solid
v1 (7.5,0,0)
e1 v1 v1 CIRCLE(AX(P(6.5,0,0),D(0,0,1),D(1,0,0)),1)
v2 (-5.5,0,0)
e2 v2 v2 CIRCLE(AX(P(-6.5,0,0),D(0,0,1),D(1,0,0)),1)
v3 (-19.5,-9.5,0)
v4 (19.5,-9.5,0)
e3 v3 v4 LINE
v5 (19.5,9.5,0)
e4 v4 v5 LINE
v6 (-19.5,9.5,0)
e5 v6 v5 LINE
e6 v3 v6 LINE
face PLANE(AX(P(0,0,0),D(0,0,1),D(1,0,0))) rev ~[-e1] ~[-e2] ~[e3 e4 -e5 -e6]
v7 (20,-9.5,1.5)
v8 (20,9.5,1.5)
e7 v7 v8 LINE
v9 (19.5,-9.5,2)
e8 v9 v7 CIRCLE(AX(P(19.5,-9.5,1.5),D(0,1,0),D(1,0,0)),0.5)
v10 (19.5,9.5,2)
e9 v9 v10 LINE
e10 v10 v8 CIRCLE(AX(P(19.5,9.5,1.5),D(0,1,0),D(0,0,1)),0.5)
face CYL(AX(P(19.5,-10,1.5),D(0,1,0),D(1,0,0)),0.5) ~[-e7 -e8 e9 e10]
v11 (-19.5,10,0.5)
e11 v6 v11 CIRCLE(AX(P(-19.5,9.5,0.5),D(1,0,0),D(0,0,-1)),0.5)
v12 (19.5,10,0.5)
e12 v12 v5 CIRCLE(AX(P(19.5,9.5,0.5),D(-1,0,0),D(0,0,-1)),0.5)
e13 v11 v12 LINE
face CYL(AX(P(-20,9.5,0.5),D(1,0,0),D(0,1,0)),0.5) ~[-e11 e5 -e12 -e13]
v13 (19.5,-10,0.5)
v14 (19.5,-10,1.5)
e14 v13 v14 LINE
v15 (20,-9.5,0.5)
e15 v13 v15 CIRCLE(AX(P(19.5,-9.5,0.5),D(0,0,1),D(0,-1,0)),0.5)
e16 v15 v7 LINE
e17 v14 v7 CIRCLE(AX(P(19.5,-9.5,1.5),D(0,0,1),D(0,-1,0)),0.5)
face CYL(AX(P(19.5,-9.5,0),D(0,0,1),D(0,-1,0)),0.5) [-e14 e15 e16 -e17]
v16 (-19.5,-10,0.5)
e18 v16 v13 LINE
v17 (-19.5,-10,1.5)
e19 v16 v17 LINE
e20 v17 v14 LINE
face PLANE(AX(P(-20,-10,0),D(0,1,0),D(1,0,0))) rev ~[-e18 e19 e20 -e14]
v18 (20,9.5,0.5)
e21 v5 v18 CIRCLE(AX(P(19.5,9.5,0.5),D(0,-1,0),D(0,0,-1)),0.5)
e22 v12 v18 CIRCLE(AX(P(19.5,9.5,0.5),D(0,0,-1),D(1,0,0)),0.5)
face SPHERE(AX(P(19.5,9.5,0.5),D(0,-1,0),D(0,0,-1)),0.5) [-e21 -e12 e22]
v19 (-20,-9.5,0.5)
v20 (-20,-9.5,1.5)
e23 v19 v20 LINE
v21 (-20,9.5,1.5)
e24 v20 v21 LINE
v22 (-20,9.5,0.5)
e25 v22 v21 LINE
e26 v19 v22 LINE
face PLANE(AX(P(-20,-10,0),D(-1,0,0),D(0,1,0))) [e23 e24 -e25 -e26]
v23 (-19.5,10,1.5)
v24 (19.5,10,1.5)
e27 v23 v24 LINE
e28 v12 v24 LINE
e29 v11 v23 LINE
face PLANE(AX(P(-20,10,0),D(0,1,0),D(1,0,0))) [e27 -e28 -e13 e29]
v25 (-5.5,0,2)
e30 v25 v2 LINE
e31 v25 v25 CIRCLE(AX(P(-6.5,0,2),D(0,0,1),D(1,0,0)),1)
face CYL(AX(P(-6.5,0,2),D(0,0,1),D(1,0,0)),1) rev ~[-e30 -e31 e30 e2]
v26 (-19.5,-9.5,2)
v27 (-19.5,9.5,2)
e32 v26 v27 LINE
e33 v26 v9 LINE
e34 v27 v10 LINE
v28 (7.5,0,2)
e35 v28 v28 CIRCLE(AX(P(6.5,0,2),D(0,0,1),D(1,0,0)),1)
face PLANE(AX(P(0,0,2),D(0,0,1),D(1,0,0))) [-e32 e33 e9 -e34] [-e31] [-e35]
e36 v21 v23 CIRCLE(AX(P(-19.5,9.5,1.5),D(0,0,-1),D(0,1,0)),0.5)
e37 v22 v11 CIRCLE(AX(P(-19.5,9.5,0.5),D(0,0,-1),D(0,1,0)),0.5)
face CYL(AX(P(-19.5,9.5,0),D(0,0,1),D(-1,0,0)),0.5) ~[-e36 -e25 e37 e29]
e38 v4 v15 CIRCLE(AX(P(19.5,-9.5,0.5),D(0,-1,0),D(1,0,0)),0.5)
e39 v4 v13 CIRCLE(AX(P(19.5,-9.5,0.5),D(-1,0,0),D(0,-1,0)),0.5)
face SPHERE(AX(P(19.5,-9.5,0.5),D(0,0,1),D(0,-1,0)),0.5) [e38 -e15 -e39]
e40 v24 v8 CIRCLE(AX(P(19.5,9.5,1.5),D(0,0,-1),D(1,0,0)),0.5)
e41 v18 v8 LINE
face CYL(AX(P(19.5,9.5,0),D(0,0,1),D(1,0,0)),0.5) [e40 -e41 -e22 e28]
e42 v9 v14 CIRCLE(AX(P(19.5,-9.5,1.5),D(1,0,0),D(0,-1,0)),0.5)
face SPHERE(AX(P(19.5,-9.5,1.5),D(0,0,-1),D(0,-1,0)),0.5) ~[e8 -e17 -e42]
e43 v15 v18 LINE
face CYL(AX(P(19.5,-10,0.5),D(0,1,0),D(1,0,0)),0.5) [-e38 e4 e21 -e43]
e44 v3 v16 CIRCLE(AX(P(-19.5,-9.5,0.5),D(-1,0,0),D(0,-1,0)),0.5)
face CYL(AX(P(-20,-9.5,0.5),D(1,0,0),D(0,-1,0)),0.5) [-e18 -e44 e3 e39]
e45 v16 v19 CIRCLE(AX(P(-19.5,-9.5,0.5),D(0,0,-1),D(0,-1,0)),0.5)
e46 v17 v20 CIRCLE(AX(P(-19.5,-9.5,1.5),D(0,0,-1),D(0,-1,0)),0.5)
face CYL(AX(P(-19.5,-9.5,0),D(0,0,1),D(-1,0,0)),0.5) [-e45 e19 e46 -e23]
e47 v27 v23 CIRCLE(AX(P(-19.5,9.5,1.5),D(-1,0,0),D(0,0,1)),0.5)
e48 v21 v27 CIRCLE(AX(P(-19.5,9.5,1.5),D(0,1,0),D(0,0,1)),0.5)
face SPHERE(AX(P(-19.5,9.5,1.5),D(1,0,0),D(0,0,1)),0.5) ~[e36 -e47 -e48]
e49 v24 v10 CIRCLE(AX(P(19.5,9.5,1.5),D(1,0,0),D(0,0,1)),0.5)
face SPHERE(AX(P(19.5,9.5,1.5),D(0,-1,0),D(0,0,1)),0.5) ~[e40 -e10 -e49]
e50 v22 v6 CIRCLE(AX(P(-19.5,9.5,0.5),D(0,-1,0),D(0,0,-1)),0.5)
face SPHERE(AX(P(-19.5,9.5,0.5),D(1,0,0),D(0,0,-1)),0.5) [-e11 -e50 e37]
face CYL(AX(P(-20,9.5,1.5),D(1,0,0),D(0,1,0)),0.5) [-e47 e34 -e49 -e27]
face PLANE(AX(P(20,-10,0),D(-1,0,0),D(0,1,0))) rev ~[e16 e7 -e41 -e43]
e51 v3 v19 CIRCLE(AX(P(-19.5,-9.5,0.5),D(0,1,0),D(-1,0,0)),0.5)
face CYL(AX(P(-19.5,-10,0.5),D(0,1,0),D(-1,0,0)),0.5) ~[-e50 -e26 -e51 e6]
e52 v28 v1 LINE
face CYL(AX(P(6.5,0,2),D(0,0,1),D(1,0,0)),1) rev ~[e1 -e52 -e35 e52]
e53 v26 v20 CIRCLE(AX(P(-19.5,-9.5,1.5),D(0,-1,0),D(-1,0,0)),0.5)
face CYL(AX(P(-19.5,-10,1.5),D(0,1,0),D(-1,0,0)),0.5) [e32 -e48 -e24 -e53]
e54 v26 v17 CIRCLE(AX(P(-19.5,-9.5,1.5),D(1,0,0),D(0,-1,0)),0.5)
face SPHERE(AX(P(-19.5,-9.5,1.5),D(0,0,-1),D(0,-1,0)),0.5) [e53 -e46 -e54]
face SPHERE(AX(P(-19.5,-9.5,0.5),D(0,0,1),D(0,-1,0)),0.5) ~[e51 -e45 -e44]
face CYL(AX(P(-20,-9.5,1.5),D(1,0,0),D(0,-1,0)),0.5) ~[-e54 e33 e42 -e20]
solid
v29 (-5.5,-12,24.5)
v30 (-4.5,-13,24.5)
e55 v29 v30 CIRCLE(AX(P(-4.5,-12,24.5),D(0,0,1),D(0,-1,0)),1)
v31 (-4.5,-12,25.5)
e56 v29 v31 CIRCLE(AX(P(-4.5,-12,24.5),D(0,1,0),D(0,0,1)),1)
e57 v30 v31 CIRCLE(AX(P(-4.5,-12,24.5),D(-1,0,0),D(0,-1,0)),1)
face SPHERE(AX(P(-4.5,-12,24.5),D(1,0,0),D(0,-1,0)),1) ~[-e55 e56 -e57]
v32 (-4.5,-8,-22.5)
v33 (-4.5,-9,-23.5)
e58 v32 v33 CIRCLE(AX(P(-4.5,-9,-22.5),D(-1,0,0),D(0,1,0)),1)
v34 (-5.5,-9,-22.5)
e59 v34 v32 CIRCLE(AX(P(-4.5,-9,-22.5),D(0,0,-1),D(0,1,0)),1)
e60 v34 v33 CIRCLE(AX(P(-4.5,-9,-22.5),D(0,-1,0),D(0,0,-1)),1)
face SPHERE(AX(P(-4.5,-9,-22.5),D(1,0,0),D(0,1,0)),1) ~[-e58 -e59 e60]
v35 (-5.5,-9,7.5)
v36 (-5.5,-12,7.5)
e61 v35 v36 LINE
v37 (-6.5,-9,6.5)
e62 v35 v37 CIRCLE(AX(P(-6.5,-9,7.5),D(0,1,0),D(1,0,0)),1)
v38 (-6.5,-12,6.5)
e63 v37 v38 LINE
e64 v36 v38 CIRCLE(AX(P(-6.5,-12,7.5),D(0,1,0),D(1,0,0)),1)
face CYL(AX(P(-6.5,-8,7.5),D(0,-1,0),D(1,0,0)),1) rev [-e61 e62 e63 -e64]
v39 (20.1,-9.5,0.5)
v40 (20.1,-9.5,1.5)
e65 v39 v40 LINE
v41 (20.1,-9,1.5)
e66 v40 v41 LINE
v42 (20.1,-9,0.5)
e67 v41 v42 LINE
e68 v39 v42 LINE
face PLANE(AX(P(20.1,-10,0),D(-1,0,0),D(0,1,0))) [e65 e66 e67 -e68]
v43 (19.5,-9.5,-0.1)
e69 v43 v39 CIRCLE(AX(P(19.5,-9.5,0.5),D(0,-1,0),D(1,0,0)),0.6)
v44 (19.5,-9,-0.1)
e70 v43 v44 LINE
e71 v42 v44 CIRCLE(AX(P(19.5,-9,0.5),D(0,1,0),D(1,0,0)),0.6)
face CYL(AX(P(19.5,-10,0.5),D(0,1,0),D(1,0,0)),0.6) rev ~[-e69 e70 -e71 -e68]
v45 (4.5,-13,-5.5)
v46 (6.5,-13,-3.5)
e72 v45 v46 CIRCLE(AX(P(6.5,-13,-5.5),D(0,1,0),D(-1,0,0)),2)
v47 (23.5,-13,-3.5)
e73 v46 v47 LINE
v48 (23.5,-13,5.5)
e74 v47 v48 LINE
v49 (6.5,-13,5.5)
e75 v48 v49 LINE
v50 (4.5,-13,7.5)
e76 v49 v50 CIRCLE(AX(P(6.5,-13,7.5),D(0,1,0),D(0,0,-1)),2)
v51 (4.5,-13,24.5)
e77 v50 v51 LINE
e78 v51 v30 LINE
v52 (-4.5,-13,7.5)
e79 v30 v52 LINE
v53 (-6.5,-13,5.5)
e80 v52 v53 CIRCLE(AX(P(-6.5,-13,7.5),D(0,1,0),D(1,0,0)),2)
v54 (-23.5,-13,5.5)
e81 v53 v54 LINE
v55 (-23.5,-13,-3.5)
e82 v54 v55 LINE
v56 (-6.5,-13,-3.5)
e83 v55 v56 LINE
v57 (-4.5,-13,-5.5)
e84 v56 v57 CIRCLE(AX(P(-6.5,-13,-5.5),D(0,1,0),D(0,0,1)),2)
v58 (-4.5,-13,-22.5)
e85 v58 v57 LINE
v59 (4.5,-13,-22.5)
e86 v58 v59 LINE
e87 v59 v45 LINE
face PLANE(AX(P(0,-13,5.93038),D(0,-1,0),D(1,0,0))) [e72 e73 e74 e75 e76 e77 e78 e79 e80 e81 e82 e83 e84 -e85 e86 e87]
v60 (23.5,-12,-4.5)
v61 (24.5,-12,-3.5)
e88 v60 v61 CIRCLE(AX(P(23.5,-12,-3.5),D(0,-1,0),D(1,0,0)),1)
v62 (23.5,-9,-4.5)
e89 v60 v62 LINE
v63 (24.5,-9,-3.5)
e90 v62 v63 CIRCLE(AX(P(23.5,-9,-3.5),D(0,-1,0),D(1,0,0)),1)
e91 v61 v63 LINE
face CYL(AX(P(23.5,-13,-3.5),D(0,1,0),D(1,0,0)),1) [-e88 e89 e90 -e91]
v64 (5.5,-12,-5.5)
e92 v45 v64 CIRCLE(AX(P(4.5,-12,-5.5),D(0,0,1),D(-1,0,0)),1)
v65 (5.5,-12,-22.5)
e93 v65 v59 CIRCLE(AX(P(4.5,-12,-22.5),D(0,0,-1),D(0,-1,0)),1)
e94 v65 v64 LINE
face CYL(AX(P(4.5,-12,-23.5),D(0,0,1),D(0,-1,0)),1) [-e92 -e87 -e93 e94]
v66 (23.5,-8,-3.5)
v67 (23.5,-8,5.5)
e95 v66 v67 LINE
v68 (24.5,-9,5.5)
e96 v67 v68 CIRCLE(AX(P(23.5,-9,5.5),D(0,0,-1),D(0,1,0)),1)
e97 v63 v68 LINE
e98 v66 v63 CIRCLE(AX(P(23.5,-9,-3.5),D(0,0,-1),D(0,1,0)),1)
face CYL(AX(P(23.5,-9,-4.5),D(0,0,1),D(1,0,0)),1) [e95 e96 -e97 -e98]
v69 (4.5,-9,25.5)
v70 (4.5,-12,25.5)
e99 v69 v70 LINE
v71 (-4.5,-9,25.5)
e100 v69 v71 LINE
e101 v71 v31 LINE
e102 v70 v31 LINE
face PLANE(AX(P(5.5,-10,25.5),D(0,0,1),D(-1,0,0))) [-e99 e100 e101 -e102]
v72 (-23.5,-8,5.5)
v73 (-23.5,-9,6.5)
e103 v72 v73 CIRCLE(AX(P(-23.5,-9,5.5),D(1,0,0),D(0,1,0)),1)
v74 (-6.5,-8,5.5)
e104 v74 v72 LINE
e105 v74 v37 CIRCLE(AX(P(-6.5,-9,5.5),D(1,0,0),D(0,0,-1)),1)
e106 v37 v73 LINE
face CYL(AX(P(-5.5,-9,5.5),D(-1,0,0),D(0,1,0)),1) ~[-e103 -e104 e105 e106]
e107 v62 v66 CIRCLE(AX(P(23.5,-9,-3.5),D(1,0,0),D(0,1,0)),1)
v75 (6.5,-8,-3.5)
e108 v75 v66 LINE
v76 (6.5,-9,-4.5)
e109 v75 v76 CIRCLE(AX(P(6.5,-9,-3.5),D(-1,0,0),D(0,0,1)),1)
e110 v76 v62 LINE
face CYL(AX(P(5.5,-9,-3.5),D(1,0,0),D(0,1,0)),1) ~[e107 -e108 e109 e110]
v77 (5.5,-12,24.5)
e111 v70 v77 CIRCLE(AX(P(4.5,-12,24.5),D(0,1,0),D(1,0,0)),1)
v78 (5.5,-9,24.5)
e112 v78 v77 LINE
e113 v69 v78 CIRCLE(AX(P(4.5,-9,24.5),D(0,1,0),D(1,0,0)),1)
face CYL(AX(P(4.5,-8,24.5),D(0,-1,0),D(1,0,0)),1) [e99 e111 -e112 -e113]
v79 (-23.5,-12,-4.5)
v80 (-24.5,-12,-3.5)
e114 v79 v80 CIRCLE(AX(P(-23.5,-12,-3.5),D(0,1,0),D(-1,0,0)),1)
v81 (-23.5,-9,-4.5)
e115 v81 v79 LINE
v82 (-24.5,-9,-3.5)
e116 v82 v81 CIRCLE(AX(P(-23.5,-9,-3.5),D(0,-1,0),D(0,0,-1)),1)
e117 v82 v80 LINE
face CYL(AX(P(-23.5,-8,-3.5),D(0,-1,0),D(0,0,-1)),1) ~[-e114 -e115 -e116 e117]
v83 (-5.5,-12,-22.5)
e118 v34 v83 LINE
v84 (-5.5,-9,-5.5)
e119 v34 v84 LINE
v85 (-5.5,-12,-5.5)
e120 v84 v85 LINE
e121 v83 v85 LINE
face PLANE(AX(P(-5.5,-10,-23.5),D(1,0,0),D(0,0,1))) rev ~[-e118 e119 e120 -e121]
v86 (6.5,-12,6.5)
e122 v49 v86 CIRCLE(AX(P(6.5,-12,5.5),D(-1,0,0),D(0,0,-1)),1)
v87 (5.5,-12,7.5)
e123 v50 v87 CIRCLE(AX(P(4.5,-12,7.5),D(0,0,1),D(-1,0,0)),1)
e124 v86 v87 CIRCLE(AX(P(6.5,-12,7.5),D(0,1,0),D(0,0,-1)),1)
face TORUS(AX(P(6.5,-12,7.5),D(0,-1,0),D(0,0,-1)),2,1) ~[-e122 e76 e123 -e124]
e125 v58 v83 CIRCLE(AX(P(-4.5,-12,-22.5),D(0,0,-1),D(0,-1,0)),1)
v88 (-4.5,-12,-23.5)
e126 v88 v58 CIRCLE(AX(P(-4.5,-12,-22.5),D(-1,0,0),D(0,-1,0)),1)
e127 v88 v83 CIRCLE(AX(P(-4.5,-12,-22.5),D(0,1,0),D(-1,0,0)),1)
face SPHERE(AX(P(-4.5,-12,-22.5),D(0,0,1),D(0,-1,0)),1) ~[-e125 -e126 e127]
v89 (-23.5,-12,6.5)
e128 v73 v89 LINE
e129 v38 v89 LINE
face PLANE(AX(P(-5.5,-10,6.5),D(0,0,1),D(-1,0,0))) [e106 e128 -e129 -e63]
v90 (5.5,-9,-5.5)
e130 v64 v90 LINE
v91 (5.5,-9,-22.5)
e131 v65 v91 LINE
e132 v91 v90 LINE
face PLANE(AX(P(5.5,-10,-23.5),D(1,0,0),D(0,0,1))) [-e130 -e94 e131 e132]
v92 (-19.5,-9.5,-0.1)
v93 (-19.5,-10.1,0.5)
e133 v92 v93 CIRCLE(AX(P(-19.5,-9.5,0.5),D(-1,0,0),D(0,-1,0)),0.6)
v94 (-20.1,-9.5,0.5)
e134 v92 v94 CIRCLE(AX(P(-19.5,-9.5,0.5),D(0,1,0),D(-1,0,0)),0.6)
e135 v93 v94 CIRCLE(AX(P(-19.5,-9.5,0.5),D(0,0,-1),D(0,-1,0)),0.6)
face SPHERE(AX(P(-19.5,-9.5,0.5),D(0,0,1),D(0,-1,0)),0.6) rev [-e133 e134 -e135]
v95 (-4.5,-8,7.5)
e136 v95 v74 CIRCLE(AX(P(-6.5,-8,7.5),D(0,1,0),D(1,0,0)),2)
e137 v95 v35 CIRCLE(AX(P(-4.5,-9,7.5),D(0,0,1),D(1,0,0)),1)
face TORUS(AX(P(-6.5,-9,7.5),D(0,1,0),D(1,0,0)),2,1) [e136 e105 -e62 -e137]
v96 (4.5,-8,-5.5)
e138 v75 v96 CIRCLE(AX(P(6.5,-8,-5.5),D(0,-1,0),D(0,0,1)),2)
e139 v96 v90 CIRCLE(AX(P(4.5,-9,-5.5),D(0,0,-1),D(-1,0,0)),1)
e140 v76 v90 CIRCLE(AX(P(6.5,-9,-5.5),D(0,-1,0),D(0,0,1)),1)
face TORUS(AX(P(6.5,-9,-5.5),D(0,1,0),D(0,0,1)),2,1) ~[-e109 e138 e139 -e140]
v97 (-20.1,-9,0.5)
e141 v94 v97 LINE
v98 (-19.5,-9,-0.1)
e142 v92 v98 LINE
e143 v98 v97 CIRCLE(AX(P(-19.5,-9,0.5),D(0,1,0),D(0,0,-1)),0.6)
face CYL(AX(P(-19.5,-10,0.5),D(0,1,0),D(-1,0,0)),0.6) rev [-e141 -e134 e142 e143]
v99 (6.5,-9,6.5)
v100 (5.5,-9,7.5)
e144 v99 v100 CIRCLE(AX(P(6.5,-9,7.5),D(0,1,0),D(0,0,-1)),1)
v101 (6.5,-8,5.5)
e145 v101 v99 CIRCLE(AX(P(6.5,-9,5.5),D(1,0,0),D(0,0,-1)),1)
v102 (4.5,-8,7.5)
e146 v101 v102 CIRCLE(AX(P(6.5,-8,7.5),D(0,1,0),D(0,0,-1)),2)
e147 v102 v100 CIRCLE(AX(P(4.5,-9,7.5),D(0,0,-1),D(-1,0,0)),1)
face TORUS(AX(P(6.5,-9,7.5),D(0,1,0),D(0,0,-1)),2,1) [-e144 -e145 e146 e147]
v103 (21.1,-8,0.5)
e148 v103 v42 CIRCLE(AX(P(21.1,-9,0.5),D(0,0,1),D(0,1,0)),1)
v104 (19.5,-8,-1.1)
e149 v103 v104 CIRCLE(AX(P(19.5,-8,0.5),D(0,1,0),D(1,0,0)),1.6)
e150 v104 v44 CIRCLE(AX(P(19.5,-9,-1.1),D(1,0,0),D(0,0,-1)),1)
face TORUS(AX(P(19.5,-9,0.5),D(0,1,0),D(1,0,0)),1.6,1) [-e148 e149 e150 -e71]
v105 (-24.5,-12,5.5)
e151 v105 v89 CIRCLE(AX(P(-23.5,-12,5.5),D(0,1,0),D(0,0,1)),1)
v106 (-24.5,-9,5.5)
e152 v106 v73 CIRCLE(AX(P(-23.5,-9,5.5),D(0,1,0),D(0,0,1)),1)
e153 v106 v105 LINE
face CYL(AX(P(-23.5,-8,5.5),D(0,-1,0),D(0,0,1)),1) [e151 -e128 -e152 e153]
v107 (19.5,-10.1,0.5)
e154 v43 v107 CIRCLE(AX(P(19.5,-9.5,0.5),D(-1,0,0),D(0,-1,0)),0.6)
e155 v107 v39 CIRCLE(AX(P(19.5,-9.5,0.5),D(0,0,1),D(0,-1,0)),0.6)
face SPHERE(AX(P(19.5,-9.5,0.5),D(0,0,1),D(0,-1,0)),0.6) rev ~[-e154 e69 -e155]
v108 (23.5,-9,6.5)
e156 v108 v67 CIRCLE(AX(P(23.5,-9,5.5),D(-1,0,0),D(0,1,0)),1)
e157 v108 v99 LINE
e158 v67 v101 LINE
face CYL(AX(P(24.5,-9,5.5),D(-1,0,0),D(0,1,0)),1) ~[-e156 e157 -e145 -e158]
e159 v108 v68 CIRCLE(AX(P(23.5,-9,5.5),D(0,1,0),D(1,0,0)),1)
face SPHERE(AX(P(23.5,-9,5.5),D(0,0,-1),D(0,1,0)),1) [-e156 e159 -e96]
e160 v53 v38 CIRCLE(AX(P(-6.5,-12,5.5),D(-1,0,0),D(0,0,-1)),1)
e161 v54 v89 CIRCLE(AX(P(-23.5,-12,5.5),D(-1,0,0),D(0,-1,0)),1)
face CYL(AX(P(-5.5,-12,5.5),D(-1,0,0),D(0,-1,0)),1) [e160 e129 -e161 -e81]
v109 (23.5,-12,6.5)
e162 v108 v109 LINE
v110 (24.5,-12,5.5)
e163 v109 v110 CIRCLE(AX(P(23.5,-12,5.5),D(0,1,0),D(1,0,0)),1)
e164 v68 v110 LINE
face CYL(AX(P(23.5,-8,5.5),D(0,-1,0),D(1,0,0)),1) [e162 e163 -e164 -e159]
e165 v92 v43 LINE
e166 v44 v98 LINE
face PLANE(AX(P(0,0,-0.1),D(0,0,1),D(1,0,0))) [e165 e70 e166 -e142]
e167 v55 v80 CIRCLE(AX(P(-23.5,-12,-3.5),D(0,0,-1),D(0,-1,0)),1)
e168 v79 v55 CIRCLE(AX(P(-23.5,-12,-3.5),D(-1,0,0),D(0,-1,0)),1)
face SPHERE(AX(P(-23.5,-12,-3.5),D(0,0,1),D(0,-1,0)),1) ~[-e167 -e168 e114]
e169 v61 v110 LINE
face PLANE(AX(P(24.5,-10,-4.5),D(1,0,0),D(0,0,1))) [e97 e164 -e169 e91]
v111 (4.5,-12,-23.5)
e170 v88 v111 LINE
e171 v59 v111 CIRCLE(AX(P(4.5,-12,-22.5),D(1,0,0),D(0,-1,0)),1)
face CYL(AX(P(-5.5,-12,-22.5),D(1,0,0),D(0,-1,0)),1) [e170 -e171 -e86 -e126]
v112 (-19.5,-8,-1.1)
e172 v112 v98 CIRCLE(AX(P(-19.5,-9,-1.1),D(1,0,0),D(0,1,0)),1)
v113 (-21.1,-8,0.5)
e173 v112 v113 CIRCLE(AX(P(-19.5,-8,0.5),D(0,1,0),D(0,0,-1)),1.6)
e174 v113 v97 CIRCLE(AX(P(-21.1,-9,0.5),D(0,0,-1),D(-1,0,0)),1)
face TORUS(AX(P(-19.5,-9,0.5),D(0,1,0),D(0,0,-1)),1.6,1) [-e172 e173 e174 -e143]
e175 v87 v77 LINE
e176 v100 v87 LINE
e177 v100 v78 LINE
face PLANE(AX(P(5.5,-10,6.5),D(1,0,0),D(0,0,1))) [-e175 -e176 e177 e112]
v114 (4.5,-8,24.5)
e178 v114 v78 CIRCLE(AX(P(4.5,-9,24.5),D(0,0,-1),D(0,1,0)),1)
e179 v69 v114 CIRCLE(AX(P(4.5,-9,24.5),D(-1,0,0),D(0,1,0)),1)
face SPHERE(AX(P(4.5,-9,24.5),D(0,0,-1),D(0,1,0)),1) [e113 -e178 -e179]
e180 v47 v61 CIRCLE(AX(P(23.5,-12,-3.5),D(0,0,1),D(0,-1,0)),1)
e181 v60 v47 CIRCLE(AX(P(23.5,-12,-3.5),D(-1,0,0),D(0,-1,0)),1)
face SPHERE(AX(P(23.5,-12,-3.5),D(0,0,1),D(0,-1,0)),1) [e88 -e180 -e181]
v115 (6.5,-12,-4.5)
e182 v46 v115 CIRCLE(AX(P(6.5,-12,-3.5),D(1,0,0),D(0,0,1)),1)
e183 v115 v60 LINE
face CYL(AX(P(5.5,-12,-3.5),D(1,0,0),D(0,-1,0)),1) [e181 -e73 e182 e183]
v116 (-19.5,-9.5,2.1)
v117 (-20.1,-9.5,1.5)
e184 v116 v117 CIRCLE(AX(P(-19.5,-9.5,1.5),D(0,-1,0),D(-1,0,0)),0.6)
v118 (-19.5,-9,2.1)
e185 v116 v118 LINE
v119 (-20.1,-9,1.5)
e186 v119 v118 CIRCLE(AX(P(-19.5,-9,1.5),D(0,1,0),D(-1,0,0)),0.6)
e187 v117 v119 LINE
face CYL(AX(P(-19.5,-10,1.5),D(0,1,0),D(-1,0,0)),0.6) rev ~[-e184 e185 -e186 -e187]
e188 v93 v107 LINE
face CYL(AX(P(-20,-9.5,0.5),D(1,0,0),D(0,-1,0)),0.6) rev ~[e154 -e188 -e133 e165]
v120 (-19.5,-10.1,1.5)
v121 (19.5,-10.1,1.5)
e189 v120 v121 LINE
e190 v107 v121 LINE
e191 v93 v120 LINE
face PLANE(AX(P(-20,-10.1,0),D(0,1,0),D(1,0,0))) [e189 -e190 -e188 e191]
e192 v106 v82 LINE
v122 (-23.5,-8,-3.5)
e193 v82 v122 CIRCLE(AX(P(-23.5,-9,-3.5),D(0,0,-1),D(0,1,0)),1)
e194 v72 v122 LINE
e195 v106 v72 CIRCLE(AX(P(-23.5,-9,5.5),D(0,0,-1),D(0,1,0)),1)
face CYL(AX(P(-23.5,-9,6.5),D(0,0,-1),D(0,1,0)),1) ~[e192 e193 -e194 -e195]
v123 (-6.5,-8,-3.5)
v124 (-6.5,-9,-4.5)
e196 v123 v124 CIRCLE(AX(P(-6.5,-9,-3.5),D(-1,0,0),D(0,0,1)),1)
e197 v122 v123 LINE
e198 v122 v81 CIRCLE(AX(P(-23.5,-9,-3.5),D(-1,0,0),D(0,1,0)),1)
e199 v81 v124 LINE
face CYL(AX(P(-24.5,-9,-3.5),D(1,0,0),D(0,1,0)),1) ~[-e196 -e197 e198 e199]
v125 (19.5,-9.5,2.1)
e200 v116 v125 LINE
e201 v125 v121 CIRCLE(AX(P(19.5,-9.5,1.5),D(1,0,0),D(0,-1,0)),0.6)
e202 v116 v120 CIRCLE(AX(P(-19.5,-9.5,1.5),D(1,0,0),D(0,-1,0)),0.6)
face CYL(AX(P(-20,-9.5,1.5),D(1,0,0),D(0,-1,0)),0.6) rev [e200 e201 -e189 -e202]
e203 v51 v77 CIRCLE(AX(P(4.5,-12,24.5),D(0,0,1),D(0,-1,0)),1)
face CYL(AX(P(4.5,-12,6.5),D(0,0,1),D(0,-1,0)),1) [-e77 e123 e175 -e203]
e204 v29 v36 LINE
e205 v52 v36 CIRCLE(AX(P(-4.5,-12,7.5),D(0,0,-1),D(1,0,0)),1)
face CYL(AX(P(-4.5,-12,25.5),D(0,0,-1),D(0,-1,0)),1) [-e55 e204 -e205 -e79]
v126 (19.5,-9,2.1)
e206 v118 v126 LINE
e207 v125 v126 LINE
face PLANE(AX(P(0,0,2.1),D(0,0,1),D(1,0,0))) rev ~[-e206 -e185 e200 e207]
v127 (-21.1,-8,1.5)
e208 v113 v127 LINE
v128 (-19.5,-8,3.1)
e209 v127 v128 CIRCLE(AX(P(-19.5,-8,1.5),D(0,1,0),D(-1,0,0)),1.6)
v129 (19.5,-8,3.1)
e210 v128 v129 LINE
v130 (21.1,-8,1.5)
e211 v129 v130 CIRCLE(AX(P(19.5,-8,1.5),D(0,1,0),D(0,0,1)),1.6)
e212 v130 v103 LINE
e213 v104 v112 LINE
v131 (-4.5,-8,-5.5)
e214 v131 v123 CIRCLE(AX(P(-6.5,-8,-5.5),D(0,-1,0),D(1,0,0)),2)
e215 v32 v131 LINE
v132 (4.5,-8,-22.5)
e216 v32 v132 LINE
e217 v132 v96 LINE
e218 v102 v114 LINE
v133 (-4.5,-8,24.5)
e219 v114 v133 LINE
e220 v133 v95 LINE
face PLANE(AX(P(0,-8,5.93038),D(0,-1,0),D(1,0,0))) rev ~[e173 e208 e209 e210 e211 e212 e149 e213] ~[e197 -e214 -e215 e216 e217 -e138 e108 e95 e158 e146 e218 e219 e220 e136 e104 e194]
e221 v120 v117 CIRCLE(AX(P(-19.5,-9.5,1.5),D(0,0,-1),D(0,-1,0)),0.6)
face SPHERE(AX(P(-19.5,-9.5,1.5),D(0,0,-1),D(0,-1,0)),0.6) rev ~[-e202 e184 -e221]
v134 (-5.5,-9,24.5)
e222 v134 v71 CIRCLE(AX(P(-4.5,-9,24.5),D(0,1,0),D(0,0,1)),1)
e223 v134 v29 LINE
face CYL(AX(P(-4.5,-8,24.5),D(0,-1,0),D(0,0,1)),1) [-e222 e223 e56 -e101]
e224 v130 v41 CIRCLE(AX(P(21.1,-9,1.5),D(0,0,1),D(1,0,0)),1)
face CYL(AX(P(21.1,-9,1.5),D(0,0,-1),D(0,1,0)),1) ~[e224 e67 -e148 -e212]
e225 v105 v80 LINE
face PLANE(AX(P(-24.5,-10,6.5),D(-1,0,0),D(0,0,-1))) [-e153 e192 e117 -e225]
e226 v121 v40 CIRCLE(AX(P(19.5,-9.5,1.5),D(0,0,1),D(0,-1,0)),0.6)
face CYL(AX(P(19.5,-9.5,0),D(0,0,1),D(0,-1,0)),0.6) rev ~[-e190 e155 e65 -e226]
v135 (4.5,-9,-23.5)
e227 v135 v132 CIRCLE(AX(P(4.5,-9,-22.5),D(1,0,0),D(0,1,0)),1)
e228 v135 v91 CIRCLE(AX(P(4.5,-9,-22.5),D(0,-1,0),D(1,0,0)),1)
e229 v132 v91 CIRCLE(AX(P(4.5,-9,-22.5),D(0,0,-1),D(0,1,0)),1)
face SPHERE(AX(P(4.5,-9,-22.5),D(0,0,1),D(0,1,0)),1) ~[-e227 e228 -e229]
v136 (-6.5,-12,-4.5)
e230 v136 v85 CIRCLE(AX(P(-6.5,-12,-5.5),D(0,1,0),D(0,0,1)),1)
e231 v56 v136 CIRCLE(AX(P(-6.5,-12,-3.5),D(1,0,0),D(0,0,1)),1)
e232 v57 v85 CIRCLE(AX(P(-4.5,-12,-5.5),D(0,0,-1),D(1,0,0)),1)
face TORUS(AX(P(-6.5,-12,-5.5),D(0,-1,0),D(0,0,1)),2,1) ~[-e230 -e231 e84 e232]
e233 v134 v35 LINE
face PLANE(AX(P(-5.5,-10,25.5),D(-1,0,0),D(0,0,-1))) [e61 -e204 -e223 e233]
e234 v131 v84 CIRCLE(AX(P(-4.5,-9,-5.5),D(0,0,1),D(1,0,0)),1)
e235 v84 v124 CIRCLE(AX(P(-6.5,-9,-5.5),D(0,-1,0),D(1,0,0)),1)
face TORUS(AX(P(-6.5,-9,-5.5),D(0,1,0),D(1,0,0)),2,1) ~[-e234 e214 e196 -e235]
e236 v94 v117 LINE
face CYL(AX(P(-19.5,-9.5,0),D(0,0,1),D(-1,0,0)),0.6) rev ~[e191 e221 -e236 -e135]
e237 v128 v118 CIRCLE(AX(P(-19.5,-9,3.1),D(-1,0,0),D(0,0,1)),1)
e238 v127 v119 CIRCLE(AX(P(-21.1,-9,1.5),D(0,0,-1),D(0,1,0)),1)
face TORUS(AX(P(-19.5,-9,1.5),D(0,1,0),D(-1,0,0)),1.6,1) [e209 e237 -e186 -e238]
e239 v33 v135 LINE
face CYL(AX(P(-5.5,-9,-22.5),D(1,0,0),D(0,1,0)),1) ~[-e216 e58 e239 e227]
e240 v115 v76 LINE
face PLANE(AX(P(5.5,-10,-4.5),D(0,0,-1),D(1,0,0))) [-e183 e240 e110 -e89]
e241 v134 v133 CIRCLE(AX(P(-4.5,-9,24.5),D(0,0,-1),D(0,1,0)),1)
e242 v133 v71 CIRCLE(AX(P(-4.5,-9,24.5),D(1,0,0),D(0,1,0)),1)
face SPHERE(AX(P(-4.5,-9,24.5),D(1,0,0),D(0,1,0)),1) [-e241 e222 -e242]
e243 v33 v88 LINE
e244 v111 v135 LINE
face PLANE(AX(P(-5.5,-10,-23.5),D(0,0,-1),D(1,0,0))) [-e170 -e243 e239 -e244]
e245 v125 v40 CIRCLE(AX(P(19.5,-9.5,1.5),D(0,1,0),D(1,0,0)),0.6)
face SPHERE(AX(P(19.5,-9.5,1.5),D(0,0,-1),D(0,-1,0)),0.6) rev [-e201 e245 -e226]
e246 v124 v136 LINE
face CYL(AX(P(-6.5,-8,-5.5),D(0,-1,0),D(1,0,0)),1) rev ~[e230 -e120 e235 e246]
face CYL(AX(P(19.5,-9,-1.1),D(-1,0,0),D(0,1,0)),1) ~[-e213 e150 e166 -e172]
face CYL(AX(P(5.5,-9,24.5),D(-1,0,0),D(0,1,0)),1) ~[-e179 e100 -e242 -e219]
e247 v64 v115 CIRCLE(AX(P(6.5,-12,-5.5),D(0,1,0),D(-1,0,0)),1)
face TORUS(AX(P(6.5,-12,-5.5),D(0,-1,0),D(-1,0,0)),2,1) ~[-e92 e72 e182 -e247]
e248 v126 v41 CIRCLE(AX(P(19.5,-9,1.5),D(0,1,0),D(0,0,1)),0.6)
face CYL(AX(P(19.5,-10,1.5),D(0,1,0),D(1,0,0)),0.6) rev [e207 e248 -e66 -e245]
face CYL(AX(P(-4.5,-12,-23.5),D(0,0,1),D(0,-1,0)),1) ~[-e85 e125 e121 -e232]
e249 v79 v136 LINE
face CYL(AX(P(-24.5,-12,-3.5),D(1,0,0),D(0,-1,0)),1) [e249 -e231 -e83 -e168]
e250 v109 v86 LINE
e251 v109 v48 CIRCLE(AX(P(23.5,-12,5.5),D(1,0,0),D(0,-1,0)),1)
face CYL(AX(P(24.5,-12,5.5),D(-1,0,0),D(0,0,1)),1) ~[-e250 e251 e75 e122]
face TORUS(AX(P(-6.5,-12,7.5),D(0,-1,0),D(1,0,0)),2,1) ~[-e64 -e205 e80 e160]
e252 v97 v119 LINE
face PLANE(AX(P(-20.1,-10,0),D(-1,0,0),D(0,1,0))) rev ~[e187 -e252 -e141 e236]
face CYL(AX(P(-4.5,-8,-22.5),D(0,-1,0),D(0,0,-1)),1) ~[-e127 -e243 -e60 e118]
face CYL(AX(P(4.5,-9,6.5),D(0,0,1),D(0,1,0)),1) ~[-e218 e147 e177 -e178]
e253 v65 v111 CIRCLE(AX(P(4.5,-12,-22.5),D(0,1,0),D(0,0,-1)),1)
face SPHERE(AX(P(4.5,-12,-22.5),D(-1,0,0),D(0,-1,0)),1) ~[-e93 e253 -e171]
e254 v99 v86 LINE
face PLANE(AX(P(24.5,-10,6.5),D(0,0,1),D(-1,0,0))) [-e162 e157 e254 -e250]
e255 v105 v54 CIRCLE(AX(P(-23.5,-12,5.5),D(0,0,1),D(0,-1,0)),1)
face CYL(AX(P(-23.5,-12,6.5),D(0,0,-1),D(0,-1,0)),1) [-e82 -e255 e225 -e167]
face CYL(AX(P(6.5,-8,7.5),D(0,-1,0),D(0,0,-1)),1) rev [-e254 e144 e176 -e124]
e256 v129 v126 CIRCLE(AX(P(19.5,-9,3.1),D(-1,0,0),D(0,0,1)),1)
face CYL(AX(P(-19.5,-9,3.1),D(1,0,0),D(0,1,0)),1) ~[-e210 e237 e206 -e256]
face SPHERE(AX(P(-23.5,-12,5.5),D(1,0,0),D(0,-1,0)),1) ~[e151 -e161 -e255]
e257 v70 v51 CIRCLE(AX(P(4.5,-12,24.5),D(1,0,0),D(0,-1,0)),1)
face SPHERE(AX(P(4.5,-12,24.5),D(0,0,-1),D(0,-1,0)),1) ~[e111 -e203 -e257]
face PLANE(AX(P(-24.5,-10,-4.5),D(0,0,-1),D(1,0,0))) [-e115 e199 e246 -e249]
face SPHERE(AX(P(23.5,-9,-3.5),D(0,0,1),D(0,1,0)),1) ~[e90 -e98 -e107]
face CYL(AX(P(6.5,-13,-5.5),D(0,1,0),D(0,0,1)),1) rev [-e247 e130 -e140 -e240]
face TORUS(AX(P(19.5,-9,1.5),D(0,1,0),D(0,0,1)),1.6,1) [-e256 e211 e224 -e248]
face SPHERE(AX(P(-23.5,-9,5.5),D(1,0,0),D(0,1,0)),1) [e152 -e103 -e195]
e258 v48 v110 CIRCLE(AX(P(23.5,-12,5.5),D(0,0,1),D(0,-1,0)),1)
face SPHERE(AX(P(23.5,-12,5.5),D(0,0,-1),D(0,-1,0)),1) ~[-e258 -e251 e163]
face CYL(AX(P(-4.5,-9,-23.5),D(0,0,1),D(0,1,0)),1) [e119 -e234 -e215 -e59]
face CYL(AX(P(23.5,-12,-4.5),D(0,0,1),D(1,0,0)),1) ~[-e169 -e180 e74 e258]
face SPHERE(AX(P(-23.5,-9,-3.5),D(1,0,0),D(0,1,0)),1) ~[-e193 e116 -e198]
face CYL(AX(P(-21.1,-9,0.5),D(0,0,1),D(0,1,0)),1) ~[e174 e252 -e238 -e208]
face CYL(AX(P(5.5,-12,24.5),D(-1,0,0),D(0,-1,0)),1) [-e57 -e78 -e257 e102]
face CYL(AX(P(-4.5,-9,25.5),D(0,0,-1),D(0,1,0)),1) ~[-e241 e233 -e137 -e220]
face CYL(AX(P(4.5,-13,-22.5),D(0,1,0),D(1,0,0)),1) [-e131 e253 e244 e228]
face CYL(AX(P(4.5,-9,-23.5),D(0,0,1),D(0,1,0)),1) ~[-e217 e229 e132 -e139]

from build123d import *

# Parameters (mm, degrees)
F0_W          = 40
F0_H          = 20
F1_DEPTH      = 2
F2_R          = 0.5
F3_R          = 1
F4_DEPTH      = 25
F6_W          = 39
F6_H          = 1
F6_W_2        = 11
F6_H_2        = 19
F7_DEPTH      = 3
F7_DEPTH_BACK = 2
F8_OFFSET     = 0.1
F9_R          = 1


with BuildPart() as f1:
    # F0 (on Top) → F1 (new body)
    with BuildSketch(Plane.XY):
        Rectangle(F0_W, F0_H)
    extrude(amount=F1_DEPTH)

    # F2
    f2_edges = [f1.edges().sort_by_distance(p)[0] for p in [
        (-20, -10, 1),
        (20, -10, 1),
        (0, -10, 0),
        (0, -10, 2),
        (20, 0, 2),
        (0, 10, 2),
        (-20, 0, 2),
        (20, 0, 0),
        (0, 10, 0),
        (-20, 0, 0),
        (-20, 10, 1),
        (20, 10, 1),
    ]]
    fillet(f2_edges, radius=F2_R)

    # F3 (on face) → F4 (cut)
    with BuildSketch(Plane.XY.offset(2)):
        with Locations((-6.5, 0)):
            Circle(F3_R)
        with Locations((6.5, 0)):
            Circle(F3_R)
    extrude(amount=-F4_DEPTH, mode=Mode.SUBTRACT)


with BuildPart() as f7:
    # F6 (on face) → F7 (new body, two sides)
    with BuildSketch(Plane.XZ.offset(10)) as f7_sk:
        Polygon((24.5, -4.5), (24.5, 6.5), (5.5, 6.5), (5.5, 25.5), (-5.5, 25.5), (-5.5, 6.5), (-24.5, 6.5), (-24.5, -4.5), (-5.5, -4.5), (5.5, -4.5), align=None)
        with Locations((0, 1)):
            Rectangle(F6_W, F6_H, mode=Mode.SUBTRACT)
        with Locations((0, -14)):
            Rectangle(F6_W_2, F6_H_2)
        with Locations((0, 1)):
            Rectangle(F6_W, F6_H)
    extrude(amount=F7_DEPTH)
    extrude(f7_sk.sketch, amount=-F7_DEPTH_BACK)

    # F8: cut F1, made larger all round first
    f8_tool = offset(f1.part, amount=F8_OFFSET, kind=Kind.INTERSECTION, mode=Mode.PRIVATE)
    add(f8_tool, mode=Mode.SUBTRACT)

    # F9
    f9_edges = [f7.edges().sort_by_distance(p)[0] for p in [
        (24.5, -8, 1),
        (15, -8, -4.5),
        (15, -8, 6.5),
        (5.5, -8, -14),
        (5.5, -8, 16),
        (0, -8, -23.5),
        (0, -8, 25.5),
        (-5.5, -8, -14),
        (-5.5, -8, 16),
        (-15, -8, -4.5),
        (-15, -8, 6.5),
        (-24.5, -8, 1),
        (19.924264, -8, 1.924264),
        (0, -8, 2.1),
        (-19.924264, -8, 1.924264),
        (-20.1, -8, 1),
        (-19.924264, -8, 0.075736),
        (0, -8, -0.1),
        (19.924264, -8, 0.075736),
        (20.1, -8, 1),
        (24.5, -13, 1),
        (15, -13, 6.5),
        (5.5, -13, 16),
        (0, -13, 25.5),
        (-5.5, -13, 16),
        (-15, -13, 6.5),
        (-24.5, -13, 1),
        (-15, -13, -4.5),
        (-5.5, -13, -14),
        (0, -13, -23.5),
        (5.5, -13, -14),
        (15, -13, -4.5),
        (5.5, -10.5, -4.5),
        (24.5, -10.5, -4.5),
        (5.5, -10.5, -23.5),
        (-5.5, -10.5, -23.5),
        (24.5, -10.5, 6.5),
        (5.5, -10.5, 6.5),
        (5.5, -10.5, 25.5),
        (-5.5, -10.5, 25.5),
        (-5.5, -10.5, 6.5),
        (-24.5, -10.5, 6.5),
        (-24.5, -10.5, -4.5),
        (-5.5, -10.5, -4.5),
    ]]
    fillet(f9_edges, radius=F9_R)


solid = Compound([f1.part, f7.part])
